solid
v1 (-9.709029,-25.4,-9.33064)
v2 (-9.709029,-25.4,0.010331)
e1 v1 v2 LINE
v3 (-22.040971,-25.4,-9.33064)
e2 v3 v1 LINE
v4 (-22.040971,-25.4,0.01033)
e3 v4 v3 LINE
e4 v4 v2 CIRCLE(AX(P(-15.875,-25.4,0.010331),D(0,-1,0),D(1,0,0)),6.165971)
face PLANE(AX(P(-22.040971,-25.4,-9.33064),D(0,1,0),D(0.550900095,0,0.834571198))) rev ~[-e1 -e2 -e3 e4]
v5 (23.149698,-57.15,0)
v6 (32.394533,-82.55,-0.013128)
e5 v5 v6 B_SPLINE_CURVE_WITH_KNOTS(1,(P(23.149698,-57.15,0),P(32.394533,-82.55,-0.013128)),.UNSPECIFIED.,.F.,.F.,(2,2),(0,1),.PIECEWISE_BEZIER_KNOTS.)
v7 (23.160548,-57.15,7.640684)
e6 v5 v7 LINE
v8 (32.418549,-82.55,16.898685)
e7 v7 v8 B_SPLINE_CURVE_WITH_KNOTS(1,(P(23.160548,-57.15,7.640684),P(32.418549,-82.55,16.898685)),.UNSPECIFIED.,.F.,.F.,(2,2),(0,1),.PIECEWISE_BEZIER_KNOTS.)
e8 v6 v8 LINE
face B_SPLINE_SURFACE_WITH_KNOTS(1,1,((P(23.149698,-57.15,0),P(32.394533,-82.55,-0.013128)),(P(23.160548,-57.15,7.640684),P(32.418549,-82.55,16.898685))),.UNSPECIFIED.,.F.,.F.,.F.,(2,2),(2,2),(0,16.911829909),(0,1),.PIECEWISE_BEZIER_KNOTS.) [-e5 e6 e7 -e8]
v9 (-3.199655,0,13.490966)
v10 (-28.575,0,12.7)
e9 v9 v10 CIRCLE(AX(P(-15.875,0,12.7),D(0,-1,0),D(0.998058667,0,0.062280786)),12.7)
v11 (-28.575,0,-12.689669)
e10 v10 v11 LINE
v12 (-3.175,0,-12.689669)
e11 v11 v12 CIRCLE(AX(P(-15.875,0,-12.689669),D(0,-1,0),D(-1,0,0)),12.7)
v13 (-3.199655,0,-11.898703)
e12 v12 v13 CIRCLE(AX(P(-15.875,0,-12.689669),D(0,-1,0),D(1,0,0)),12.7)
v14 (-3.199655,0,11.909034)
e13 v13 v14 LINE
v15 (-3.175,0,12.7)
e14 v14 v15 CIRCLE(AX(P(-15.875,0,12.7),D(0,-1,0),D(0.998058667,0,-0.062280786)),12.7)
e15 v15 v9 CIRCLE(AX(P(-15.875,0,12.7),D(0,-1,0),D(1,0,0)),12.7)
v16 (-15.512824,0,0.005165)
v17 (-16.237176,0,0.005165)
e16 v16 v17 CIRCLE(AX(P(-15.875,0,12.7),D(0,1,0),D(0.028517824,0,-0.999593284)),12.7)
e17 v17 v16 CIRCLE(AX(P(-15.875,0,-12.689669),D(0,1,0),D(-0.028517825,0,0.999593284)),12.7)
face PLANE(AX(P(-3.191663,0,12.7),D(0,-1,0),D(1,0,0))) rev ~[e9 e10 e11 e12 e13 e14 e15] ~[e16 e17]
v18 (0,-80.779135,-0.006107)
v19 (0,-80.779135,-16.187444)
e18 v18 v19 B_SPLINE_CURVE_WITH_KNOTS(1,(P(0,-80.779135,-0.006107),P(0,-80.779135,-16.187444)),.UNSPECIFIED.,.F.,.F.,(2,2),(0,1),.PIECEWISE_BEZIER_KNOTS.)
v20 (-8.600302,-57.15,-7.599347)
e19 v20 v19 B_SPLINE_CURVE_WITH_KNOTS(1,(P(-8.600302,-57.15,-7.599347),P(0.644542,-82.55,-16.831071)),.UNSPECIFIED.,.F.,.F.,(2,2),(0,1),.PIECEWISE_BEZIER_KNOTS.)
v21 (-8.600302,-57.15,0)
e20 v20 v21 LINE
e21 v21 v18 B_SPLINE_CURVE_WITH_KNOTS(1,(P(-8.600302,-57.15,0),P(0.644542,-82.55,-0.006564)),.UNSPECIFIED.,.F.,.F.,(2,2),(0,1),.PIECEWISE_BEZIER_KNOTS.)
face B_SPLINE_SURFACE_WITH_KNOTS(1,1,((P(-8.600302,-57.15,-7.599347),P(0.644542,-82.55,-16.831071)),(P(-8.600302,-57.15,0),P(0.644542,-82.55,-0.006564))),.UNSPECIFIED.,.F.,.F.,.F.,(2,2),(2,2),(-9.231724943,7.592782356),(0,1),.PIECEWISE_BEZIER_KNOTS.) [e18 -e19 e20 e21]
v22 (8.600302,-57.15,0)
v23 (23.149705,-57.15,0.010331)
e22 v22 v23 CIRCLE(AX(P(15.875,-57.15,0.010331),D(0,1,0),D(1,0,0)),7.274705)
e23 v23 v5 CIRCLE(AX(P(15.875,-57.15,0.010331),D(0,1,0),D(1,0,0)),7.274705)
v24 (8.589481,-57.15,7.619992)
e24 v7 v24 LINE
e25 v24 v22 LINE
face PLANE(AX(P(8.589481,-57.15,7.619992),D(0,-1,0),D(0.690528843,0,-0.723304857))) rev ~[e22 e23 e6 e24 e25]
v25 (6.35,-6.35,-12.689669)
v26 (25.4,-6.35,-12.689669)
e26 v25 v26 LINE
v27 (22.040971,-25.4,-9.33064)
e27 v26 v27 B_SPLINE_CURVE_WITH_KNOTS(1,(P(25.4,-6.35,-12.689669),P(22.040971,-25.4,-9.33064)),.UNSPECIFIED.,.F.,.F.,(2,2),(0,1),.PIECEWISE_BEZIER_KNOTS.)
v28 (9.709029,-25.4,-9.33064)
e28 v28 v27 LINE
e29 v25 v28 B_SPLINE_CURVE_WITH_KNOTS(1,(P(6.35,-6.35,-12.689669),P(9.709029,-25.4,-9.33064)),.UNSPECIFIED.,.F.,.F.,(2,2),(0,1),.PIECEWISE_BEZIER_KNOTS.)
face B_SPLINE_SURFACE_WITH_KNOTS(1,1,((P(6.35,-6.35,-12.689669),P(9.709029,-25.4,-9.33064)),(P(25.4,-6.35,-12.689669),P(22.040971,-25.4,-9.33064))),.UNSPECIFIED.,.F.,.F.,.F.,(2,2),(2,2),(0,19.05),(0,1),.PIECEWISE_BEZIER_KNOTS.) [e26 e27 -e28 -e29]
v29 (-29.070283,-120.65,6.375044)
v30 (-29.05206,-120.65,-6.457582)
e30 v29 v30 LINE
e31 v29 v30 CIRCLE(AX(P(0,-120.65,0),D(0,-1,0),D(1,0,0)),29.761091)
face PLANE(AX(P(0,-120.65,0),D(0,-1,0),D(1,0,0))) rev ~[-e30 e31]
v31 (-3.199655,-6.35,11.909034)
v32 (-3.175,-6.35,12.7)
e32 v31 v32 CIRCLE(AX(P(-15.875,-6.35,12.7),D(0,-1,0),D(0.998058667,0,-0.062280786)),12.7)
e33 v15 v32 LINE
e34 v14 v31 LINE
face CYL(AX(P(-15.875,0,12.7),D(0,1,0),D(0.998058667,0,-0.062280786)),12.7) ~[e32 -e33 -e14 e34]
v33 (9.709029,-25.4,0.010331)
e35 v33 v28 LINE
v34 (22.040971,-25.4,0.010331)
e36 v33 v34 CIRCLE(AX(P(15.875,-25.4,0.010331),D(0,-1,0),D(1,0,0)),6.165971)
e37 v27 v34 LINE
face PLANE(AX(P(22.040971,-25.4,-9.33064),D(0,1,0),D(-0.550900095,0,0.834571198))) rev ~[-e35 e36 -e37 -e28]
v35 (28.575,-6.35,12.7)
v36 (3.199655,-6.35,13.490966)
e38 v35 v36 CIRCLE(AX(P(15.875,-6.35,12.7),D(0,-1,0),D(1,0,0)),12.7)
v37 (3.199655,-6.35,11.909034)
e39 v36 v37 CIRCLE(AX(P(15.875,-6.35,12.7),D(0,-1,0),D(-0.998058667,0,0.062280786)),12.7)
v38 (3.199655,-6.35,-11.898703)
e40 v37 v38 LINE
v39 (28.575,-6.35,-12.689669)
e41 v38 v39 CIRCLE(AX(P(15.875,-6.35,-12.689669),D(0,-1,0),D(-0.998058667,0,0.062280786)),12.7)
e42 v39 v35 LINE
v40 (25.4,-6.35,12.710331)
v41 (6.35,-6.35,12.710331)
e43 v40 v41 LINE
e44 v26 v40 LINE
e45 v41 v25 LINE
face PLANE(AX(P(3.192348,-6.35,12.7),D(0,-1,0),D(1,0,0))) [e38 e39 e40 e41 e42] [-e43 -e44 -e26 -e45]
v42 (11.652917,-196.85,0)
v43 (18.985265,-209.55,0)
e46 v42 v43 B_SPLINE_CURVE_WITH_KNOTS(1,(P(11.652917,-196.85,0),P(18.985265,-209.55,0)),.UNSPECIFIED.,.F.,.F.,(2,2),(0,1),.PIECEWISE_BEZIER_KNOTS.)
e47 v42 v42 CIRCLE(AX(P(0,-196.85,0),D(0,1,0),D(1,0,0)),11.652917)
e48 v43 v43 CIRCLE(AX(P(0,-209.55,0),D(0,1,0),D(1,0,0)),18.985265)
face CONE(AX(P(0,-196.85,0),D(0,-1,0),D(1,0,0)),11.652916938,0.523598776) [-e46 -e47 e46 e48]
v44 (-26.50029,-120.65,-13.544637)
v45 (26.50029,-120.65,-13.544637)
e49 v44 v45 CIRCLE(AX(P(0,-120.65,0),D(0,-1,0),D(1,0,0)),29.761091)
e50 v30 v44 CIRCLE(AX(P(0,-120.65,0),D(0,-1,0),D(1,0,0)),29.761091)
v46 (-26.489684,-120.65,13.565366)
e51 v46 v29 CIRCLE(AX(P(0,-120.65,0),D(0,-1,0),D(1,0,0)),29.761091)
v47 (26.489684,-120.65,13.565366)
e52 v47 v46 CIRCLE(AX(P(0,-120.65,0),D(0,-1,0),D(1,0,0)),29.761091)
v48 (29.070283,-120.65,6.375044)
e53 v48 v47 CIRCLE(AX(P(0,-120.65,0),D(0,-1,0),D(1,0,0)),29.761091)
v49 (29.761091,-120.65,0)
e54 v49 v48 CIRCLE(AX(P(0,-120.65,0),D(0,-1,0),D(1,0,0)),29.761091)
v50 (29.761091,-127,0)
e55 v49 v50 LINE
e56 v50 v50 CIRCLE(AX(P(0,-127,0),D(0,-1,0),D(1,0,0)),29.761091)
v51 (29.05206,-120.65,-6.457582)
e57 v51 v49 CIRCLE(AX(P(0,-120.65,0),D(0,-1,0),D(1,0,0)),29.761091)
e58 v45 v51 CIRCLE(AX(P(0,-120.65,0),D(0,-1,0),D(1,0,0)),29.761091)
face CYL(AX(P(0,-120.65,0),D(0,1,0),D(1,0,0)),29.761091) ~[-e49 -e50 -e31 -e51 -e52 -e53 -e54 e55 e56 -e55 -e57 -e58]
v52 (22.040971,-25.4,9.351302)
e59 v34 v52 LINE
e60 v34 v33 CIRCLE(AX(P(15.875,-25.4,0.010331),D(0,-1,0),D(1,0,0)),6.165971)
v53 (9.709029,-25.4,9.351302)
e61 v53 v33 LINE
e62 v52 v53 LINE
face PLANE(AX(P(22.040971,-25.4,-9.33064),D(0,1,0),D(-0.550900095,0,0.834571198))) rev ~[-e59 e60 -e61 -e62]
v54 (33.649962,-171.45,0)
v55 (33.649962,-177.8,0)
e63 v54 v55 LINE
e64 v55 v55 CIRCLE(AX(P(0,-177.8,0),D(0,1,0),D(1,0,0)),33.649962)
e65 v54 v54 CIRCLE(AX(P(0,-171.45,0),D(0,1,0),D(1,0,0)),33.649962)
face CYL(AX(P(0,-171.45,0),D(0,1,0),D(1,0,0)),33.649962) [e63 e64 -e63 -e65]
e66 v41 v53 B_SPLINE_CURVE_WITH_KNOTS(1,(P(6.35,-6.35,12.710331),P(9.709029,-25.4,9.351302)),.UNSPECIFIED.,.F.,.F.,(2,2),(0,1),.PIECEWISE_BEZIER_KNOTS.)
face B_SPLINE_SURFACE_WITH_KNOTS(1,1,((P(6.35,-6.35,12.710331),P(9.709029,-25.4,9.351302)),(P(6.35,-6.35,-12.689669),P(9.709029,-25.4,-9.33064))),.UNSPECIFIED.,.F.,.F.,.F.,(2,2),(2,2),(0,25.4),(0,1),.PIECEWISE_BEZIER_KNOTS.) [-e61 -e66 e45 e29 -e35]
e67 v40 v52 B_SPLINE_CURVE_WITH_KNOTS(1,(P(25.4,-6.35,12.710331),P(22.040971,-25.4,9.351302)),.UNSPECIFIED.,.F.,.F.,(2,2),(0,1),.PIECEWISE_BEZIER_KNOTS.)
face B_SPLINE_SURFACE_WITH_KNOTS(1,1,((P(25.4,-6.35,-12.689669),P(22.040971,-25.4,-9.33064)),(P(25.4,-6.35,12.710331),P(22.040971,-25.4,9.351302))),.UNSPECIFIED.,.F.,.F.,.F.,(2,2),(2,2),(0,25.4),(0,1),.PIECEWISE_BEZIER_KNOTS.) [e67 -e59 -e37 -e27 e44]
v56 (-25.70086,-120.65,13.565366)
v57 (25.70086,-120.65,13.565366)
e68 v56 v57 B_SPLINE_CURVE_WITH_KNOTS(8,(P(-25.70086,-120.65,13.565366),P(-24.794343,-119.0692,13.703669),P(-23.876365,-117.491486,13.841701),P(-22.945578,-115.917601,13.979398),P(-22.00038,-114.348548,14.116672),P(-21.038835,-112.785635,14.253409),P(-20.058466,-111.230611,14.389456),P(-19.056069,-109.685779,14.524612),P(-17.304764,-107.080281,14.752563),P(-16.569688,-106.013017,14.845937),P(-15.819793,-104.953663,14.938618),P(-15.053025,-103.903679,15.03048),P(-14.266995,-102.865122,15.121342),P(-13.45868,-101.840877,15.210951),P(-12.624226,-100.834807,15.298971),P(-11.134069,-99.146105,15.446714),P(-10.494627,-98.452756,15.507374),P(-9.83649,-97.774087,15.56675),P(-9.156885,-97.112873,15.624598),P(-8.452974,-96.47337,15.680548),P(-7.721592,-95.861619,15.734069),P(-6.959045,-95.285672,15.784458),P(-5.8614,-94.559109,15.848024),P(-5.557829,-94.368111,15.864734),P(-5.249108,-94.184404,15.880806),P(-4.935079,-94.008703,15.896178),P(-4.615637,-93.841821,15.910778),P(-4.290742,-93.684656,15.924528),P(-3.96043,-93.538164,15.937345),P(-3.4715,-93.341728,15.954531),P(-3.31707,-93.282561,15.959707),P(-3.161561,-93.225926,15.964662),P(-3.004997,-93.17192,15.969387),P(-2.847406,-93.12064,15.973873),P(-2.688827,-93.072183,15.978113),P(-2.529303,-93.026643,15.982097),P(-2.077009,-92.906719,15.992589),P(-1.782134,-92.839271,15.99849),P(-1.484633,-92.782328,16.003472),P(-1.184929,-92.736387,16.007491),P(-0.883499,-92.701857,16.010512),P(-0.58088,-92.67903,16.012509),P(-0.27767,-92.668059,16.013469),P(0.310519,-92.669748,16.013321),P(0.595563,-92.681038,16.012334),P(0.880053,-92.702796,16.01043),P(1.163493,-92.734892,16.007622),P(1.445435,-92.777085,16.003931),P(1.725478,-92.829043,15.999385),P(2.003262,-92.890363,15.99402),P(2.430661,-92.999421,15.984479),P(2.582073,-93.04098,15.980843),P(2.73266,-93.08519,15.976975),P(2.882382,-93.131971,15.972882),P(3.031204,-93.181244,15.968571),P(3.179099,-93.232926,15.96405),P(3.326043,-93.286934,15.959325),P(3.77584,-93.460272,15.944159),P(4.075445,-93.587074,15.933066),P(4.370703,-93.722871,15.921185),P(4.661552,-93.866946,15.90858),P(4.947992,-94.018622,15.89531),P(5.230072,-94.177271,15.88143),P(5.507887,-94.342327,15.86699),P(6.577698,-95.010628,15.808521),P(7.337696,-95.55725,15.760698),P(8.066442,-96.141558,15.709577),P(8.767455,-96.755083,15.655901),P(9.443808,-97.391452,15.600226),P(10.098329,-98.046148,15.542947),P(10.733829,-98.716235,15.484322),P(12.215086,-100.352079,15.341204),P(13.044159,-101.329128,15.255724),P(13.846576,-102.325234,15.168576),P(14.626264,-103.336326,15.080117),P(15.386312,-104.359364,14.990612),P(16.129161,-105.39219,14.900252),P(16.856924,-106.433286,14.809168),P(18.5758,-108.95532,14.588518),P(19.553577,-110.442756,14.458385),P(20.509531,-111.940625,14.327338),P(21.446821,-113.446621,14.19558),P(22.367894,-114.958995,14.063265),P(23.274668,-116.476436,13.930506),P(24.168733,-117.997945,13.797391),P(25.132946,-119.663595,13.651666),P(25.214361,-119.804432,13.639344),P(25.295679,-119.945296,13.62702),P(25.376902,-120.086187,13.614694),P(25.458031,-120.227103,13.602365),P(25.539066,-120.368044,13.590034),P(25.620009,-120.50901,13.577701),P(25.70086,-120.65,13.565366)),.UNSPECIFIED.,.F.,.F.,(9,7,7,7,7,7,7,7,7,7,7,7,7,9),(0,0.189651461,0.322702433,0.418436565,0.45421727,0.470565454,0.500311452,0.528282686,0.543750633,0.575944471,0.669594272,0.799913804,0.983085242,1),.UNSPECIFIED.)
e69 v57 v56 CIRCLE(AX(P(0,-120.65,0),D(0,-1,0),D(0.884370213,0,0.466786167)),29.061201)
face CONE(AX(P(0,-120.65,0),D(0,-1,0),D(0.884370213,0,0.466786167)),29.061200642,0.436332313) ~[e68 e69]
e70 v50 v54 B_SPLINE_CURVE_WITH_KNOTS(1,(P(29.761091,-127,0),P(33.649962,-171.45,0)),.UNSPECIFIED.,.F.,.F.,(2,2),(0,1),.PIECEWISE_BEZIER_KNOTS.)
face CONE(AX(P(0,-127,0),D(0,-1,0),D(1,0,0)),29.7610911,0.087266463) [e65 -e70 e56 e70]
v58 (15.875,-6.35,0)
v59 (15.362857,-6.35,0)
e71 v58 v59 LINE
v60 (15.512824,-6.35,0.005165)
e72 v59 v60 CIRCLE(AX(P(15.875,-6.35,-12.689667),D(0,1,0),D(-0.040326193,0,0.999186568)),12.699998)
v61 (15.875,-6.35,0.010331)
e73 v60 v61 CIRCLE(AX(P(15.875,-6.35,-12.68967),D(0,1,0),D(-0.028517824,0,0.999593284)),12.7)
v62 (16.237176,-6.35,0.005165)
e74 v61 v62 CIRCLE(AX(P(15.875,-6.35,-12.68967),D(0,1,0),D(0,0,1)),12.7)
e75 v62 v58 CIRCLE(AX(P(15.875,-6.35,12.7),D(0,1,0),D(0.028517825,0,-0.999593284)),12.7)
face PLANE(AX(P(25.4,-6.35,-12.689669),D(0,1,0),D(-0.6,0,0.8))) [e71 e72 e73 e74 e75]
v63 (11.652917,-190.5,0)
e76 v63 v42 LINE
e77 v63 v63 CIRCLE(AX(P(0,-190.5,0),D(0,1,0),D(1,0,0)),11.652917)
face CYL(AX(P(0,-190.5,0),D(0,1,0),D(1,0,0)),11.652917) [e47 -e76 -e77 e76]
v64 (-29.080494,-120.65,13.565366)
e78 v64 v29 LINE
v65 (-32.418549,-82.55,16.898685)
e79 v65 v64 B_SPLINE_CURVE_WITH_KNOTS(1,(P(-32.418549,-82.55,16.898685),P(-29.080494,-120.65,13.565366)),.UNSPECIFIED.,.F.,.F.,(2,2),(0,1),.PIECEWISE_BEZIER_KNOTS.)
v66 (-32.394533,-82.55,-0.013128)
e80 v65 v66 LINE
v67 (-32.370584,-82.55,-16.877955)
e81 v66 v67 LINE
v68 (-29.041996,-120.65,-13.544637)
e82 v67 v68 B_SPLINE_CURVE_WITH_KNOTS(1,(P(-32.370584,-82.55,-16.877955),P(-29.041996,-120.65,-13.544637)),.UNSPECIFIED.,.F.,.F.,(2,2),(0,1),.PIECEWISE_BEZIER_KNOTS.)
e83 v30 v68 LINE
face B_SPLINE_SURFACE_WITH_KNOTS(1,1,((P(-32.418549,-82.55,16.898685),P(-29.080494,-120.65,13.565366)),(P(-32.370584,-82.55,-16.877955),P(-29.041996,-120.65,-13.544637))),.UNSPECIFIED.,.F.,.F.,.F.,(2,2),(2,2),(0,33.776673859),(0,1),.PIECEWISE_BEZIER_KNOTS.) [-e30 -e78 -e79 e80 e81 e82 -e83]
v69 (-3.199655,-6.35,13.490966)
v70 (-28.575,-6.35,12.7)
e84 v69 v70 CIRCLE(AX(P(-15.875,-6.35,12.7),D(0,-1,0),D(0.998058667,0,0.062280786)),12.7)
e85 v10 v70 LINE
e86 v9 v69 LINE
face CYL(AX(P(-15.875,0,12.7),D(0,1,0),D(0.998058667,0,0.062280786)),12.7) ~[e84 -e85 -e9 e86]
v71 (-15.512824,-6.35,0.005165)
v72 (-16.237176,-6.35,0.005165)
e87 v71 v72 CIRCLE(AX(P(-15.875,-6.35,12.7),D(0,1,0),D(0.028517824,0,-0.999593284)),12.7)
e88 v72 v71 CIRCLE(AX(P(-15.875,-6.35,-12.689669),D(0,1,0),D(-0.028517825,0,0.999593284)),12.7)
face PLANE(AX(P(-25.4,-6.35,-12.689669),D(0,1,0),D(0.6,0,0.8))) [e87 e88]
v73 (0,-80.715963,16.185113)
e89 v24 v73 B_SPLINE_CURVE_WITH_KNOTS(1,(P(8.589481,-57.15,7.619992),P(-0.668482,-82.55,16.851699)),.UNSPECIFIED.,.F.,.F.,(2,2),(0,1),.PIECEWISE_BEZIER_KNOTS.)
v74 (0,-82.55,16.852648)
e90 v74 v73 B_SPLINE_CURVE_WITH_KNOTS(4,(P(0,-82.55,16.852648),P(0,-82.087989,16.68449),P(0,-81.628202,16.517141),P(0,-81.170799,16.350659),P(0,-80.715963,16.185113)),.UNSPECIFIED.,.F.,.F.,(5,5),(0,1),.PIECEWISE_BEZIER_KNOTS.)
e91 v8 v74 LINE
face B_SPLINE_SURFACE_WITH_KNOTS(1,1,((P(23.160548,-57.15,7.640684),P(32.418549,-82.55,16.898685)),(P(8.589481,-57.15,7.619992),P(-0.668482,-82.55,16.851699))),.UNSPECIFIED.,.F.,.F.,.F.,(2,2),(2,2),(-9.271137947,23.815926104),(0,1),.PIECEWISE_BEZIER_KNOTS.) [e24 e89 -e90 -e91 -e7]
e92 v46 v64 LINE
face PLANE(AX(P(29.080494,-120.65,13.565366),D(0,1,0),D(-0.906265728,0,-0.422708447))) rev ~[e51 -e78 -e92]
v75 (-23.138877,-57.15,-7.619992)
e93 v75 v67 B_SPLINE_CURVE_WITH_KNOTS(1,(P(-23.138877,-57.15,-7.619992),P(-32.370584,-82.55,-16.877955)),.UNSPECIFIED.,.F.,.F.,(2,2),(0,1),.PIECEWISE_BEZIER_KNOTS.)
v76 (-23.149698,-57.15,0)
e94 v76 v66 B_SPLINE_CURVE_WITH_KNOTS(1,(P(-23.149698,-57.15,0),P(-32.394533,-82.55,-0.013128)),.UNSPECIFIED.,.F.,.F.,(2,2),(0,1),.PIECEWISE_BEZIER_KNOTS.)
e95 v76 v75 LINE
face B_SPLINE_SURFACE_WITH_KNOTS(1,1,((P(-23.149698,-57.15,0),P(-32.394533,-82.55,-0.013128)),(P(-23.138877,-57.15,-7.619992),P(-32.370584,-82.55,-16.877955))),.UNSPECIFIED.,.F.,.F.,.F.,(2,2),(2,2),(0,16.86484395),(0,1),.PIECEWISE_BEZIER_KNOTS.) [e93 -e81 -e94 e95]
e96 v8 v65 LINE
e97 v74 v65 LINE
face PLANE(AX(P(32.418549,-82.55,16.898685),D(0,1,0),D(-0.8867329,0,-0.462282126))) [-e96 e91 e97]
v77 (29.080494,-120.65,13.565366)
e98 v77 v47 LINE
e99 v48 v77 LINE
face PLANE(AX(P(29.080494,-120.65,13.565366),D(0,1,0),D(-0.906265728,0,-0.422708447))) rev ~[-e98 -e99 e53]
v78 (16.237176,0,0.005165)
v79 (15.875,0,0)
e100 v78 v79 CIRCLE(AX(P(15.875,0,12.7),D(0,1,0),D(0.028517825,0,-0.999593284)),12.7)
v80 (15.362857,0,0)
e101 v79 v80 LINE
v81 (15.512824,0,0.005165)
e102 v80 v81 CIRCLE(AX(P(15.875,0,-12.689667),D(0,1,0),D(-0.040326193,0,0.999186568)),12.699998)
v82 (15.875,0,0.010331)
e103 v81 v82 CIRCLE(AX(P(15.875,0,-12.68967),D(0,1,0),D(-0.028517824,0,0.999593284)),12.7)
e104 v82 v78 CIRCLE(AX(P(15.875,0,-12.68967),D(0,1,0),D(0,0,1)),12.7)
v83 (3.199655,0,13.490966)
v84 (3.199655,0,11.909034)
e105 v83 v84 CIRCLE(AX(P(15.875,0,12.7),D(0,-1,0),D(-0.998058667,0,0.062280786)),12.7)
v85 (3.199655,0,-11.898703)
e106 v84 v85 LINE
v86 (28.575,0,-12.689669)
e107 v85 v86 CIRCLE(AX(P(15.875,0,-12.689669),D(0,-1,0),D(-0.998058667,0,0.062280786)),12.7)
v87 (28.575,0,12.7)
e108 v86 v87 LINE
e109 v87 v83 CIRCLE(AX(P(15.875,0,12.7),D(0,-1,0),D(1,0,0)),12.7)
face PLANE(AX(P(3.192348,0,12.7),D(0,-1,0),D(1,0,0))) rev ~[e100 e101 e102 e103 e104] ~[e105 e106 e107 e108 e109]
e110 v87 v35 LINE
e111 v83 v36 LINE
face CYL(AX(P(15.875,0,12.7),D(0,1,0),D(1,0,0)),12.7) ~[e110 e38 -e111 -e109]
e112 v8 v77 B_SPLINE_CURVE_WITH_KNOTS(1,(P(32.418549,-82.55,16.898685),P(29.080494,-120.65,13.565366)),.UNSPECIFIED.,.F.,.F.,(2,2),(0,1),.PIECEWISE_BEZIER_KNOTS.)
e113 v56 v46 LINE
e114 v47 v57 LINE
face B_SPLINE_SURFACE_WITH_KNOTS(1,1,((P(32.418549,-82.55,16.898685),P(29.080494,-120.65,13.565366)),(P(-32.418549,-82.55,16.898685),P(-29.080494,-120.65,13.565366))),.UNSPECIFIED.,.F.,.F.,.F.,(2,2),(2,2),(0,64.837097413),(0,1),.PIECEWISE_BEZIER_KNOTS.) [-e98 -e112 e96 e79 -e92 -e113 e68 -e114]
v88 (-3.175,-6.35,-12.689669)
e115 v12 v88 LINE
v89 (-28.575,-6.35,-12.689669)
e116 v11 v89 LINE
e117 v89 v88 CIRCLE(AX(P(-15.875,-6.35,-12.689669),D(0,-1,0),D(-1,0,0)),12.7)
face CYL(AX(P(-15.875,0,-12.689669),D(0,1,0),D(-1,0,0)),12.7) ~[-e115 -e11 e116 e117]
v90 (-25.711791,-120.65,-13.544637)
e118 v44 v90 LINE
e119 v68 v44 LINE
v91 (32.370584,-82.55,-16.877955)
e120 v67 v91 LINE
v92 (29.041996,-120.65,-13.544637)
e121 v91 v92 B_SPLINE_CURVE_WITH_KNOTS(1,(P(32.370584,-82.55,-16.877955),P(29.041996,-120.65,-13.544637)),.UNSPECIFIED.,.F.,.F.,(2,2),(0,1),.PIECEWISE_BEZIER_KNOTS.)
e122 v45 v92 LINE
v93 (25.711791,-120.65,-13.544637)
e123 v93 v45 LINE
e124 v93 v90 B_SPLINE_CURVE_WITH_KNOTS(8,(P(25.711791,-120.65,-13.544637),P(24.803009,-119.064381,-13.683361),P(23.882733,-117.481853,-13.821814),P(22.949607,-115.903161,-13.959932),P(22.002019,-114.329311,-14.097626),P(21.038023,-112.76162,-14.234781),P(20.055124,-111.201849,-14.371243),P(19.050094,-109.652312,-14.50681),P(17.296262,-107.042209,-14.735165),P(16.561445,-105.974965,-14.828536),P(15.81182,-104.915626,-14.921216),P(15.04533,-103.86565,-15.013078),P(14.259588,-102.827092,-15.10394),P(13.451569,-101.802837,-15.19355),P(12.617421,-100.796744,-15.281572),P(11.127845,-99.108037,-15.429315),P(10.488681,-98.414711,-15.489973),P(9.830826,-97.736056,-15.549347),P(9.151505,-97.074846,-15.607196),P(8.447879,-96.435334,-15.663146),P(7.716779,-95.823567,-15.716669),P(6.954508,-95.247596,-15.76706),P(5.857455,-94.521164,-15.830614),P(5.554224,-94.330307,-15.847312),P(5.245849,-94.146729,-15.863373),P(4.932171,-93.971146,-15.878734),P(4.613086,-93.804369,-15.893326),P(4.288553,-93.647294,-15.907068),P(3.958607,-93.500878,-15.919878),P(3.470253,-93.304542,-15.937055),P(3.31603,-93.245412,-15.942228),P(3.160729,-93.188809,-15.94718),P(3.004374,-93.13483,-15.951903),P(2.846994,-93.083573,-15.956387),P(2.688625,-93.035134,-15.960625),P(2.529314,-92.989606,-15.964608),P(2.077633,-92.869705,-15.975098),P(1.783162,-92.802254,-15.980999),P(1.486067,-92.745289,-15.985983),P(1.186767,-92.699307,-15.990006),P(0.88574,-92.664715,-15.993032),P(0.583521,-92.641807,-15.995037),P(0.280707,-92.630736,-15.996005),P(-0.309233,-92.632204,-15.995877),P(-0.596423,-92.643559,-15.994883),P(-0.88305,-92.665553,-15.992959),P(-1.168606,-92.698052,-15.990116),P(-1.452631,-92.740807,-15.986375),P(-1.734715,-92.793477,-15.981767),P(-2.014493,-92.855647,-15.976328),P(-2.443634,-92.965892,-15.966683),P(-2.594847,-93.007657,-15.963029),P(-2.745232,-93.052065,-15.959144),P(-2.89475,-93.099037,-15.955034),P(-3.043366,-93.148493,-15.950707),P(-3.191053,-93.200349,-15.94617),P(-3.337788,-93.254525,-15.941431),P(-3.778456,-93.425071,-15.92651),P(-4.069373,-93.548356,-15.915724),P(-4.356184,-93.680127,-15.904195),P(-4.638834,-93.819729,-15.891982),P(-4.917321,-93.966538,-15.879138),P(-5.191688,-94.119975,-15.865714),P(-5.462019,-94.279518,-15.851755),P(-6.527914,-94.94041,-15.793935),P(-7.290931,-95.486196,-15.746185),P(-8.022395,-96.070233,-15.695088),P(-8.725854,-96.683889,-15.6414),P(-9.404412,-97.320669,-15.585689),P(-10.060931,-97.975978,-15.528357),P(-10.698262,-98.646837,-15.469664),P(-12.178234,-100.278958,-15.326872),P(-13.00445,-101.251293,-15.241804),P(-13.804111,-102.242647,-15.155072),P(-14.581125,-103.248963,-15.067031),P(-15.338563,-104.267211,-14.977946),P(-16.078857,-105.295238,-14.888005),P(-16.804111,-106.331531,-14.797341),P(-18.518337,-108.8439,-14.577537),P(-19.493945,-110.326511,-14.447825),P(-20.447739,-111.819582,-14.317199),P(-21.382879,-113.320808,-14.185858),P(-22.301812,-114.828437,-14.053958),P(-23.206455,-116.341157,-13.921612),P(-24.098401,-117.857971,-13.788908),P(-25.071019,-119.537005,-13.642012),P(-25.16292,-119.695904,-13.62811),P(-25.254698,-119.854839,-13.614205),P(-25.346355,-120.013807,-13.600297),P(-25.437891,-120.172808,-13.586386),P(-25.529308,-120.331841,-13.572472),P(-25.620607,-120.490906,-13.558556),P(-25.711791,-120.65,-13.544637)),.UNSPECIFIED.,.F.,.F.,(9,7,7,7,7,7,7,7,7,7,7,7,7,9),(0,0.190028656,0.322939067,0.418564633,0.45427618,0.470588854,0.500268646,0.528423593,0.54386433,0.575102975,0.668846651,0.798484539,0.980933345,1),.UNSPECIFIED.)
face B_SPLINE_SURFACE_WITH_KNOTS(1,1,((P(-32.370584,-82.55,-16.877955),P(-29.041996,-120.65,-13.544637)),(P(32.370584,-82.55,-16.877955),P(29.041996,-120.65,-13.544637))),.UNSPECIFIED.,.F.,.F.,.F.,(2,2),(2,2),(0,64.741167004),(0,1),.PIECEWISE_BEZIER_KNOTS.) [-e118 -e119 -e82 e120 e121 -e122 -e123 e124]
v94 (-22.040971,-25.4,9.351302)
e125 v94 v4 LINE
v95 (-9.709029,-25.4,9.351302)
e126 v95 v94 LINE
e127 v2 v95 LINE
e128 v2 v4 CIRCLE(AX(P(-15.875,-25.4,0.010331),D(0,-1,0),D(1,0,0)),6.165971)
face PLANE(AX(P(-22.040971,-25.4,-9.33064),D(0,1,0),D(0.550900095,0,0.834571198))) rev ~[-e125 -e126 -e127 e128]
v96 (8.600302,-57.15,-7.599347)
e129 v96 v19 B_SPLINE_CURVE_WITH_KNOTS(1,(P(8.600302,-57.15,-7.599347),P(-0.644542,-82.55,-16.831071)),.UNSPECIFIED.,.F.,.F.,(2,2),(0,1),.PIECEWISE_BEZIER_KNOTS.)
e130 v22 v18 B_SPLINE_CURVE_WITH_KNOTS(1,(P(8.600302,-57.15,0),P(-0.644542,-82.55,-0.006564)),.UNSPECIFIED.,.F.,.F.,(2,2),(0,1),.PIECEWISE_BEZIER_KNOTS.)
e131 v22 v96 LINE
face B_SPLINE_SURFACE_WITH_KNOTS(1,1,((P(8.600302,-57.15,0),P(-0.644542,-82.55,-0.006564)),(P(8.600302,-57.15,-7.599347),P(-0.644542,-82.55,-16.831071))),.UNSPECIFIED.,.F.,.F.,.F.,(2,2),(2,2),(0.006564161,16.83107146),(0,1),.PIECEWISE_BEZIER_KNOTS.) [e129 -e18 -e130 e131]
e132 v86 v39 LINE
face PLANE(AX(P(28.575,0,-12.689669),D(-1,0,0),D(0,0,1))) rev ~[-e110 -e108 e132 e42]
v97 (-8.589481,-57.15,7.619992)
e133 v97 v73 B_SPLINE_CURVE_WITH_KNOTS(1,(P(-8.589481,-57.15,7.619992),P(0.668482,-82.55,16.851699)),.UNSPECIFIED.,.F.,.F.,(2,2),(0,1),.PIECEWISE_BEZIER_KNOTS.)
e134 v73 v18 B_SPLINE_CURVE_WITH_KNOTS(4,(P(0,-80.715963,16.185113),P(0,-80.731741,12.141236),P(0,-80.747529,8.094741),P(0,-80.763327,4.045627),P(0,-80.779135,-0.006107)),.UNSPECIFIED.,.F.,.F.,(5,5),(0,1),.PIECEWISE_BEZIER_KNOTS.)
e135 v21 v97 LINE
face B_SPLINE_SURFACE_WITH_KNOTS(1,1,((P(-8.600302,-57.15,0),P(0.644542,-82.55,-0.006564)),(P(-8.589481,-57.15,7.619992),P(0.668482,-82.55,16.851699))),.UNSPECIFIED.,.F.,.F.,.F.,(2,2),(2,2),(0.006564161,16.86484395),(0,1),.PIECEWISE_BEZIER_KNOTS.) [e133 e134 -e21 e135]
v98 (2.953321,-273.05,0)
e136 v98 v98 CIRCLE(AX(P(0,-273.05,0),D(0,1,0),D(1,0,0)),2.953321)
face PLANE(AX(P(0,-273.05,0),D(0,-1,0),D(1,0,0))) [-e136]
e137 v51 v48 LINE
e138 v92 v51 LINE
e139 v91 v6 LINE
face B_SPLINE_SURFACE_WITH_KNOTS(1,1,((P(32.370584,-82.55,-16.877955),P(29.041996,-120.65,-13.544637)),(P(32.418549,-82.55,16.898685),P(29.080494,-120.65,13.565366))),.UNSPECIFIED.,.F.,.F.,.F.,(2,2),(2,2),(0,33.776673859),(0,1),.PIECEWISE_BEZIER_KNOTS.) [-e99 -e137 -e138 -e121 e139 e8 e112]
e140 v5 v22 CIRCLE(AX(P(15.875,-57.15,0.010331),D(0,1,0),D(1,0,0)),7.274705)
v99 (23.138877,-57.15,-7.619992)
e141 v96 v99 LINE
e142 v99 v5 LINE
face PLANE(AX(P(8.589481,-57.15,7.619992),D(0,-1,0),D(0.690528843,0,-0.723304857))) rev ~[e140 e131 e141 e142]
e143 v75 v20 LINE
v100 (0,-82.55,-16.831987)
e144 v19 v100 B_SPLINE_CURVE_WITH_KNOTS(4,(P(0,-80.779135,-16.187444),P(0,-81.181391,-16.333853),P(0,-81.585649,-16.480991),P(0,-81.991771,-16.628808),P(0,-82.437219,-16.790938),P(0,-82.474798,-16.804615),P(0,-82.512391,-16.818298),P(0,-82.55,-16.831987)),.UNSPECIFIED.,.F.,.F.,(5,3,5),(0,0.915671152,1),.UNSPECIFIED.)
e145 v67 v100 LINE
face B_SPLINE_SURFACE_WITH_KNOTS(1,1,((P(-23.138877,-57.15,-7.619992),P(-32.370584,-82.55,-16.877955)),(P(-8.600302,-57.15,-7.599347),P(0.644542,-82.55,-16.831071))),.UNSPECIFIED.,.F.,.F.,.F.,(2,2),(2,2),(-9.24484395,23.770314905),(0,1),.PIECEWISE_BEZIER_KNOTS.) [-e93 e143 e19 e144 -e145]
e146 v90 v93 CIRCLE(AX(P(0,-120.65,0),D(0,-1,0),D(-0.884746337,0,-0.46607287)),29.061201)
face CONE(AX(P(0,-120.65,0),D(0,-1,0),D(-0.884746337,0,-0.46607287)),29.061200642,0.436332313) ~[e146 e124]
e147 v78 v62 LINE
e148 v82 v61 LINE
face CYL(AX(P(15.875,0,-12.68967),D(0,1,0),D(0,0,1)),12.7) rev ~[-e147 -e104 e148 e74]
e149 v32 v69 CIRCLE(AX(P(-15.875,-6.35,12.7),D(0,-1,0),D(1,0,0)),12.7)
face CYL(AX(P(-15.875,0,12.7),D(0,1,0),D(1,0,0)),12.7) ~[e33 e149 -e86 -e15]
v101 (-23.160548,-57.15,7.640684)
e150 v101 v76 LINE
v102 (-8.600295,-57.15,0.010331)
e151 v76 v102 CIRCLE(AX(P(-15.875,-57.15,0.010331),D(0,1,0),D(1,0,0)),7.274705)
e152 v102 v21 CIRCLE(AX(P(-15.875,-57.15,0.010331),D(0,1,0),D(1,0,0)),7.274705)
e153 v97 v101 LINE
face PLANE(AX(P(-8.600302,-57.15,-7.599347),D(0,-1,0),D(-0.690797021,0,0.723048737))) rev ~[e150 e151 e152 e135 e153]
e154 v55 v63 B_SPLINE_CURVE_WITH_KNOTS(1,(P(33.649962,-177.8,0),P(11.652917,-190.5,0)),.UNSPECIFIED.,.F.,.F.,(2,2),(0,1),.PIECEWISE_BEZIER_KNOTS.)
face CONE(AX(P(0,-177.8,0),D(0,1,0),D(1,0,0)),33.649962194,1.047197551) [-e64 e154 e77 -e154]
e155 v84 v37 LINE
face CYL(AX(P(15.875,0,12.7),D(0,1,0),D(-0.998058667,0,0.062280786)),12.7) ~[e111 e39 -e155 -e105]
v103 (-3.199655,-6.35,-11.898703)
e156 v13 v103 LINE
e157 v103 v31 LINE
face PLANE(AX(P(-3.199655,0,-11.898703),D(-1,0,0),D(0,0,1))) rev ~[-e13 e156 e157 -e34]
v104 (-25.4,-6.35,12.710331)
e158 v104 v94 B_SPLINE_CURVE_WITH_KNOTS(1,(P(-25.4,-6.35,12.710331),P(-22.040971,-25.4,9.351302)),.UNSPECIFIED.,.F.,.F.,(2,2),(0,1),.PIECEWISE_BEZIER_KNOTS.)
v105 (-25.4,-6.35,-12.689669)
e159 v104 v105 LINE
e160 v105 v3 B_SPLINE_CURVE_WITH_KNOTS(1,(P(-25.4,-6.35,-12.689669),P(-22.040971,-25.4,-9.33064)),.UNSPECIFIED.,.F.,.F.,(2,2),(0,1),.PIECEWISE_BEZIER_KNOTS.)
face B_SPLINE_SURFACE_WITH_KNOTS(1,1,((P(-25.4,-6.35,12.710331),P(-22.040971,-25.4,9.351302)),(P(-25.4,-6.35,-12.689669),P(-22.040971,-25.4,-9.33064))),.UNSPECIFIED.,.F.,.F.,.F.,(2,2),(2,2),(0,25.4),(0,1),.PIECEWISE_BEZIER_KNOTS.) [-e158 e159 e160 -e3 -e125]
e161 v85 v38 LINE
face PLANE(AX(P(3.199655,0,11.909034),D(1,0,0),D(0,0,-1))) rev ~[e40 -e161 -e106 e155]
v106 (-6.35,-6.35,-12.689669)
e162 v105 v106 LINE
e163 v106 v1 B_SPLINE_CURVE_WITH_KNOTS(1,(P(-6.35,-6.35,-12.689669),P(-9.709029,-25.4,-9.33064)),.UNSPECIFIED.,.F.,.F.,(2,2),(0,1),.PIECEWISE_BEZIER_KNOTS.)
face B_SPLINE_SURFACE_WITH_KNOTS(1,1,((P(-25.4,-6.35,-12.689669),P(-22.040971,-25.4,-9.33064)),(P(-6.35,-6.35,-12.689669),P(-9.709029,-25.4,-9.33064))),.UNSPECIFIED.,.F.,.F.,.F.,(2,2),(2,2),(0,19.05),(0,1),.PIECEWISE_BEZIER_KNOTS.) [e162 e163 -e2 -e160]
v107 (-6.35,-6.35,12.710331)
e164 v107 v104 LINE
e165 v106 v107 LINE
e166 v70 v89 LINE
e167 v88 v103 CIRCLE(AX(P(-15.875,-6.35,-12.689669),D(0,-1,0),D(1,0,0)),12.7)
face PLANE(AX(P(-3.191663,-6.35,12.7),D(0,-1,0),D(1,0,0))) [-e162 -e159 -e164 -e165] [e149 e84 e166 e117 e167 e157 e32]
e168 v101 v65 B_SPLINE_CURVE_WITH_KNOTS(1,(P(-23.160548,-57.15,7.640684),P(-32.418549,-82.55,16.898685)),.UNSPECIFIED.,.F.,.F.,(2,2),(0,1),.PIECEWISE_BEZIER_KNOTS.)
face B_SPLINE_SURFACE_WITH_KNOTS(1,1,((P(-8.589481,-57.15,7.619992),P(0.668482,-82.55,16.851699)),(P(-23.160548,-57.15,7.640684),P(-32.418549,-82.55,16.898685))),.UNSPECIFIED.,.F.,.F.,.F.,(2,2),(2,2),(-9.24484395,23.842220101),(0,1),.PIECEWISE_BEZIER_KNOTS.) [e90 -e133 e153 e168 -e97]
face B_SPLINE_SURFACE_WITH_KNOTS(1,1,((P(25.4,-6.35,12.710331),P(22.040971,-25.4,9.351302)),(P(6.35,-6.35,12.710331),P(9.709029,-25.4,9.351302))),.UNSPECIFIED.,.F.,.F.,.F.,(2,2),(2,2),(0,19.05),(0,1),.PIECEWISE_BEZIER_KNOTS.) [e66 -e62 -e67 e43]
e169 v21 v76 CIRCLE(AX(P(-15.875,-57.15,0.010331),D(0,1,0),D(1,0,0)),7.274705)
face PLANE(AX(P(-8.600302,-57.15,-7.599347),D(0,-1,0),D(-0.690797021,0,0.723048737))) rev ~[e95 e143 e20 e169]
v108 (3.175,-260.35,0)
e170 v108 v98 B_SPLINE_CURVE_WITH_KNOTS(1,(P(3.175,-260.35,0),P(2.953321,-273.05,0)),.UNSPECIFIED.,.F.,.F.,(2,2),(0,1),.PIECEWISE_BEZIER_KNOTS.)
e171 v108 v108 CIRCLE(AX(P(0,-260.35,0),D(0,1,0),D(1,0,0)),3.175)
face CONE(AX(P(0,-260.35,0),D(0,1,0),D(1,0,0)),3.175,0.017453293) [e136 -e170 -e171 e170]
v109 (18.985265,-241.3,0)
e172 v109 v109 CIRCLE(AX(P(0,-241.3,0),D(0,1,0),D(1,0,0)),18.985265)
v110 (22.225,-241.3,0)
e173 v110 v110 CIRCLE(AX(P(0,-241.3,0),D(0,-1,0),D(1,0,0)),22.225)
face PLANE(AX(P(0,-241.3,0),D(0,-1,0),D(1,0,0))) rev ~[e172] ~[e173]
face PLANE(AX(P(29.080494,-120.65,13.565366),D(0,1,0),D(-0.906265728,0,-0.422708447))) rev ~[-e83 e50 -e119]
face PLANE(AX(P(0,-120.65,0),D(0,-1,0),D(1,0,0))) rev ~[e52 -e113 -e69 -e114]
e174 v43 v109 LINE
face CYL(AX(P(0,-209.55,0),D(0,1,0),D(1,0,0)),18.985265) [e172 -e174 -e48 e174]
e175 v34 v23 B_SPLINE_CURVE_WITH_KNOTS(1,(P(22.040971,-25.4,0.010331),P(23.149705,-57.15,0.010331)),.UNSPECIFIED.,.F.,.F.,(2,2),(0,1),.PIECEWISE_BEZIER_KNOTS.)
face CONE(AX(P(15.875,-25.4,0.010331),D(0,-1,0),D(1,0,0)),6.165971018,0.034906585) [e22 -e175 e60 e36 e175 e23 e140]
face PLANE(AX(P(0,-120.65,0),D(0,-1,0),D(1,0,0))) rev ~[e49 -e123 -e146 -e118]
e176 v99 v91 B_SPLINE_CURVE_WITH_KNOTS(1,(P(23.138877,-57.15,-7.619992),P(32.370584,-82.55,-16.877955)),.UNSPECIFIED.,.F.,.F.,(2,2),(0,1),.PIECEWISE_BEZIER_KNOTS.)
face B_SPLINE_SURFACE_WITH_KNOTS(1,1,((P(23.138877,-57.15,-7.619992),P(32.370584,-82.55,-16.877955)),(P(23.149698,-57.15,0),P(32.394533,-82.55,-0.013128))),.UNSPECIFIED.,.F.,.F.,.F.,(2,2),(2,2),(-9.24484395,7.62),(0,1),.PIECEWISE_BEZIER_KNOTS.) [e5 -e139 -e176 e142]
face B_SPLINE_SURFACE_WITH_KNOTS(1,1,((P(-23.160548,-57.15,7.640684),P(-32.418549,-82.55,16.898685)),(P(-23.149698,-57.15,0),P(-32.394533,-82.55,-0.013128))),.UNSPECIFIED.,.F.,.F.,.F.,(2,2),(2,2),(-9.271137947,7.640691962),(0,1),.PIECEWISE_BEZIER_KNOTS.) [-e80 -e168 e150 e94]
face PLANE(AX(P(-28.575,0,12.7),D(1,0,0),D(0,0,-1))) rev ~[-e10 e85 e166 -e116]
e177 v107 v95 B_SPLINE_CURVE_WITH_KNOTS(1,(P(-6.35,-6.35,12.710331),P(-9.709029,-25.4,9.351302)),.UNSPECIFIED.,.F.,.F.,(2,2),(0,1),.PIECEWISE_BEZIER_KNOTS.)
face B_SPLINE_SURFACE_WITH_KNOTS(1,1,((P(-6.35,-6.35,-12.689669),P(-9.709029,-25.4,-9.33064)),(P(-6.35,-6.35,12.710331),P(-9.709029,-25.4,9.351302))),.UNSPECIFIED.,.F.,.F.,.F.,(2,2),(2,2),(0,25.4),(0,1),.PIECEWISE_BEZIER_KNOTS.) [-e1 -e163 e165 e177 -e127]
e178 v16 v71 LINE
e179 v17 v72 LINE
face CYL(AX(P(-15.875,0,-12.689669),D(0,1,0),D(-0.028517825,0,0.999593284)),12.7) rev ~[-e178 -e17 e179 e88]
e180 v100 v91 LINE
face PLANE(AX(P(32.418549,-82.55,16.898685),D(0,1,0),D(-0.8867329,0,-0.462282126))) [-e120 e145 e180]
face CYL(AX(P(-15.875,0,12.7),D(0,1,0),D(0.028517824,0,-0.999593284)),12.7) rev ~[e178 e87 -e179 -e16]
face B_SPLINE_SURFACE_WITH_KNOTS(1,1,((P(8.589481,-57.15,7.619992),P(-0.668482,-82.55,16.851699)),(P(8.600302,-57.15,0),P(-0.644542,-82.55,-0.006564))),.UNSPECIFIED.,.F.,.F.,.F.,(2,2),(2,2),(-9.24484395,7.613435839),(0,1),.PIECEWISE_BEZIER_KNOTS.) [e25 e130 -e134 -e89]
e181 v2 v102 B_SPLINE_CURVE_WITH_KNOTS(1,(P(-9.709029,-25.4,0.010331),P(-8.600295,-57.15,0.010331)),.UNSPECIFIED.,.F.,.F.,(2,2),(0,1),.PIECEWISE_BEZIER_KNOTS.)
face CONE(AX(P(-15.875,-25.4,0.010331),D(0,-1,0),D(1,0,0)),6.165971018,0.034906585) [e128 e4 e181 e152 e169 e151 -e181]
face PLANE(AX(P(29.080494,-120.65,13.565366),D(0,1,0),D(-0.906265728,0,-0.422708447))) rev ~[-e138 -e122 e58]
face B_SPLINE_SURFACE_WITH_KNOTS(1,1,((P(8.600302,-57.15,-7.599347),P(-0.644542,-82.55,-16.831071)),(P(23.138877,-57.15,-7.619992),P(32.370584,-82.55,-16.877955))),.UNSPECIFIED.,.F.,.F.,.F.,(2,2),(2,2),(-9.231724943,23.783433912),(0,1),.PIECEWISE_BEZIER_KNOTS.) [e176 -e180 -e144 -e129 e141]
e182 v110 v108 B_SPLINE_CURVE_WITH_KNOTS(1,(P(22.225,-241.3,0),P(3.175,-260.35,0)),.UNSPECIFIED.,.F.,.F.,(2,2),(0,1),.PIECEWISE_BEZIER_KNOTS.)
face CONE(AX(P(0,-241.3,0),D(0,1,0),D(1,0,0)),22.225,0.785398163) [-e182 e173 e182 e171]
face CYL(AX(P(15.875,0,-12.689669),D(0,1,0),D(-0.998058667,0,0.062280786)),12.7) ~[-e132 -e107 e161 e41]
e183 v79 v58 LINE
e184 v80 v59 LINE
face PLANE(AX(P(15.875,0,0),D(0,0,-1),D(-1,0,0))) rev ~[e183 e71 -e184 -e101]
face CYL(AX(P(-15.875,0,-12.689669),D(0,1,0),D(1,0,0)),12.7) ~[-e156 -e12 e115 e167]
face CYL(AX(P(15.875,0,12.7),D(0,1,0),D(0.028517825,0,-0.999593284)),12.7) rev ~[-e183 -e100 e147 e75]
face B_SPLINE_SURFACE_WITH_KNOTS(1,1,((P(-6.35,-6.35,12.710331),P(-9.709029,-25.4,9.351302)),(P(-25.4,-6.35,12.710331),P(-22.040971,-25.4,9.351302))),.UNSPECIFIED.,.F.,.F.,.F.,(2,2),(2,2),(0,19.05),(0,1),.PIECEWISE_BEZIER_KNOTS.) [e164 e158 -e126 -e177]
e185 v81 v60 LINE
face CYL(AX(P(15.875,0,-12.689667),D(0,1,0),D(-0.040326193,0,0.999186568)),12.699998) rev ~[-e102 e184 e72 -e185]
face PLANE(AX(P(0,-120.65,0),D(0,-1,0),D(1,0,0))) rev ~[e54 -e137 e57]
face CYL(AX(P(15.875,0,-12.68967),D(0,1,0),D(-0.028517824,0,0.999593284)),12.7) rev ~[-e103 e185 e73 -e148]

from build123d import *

# Parameters (mm, degrees)
F1_DEPTH   = 6.35
F3_DEPTH   = 19.05
F3_TAPER   = 10
F4_R       = 6.1659710175
F5_DEPTH   = 31.75
F5_TAPER   = -2
F7_DEPTH   = 25.4
F7_TAPER   = -20
F9_DEPTH   = 38.1
F9_TAPER   = 5
F11_DEPTH  = 38.1
F11_TAPER  = 25
F12_R      = 29.7610911
F13_DEPTH  = 6.35
F13_FACE_R = 29.7610911
F14_DEPTH  = 44.45
F14_TAPER  = -5
F15_DEPTH  = 6.35
F15_FACE_R = 33.6499621937
F16_DEPTH  = 12.7
F16_TAPER  = 60
F17_DEPTH  = 6.35
F17_FACE_R = 11.6529169376
F18_DEPTH  = 12.7
F18_TAPER  = -30
F19_DEPTH  = 31.75
F20_R      = 22.225
F21_DEPTH  = 19.05
F21_TAPER  = 45
F21_FACE_R = 3.175
F22_DEPTH  = 12.7
F22_TAPER  = 1


with BuildPart() as f1:
    # F0 (on Front) → F1 (new body)
    with BuildSketch(Plane.XZ):
        with BuildLine():
            ThreePointArc((3.199654923, 13.4909659788), (3.175, 12.7), (3.199654923, 11.9090340212))
            Line((3.199654923, 11.9090340212), (3.199654923, 13.4909659788))
        make_face()
        with BuildLine():
            Line((15.362857355, 0), (3.199654923, 0))
            Line((3.199654923, 0), (3.199654923, -11.8987034381))
            ThreePointArc((3.199654923, -11.8987034381), (6.9939953282, -3.6112468657), (15.362857355, 0))
        make_face()
        with BuildLine():
            ThreePointArc((16.2371763723, 0.0051652915), (24.9824046777, -3.8383881517), (28.575, -12.6896694169))
            Line((28.575, -12.6896694169), (28.575, 12.7))
            ThreePointArc((28.575, 12.7), (24.9824046777, 3.8487187348), (16.2371763723, 0.0051652915))
        make_face()
        with BuildLine():
            Line((3.199654923, 11.9090340212), (3.199654923, 0))
            Line((3.199654923, 0), (15.362857355, 0))
            ThreePointArc((15.362857355, 0), (15.4378328626, 0.0028041361), (15.5128236277, 0.0051652915))
            ThreePointArc((15.5128236277, 0.0051652915), (7.0477827676, 3.5692696934), (3.199654923, 11.9090340212))
        make_face()
        with BuildLine():
            Line((15.875, 0), (15.362857355, 0))
            ThreePointArc((15.362857355, 0), (6.9939953282, -3.6112468657), (3.199654923, -11.8987034381))
            ThreePointArc((3.199654923, -11.8987034381), (15.4793249297, -25.3835041897), (28.575, -12.6896694169))
            ThreePointArc((28.575, -12.6896694169), (24.9824046777, -3.8383881517), (16.2371763723, 0.0051652915))
            ThreePointArc((16.2371763723, 0.0051652915), (16.0561066018, 0.0012913885), (15.875, 0))
        make_face()
        with BuildLine():
            Line((3.199654923, 13.4909659788), (3.199654923, 11.9090340212))
            ThreePointArc((3.199654923, 11.9090340212), (7.0477827676, 3.5692696934), (15.5128236277, 0.0051652915))
            ThreePointArc((15.5128236277, 0.0051652915), (15.6938933982, 0.0090391945), (15.875, 0.0103305831))
            ThreePointArc((15.875, 0.0103305831), (16.0561066018, 0.0090391945), (16.2371763723, 0.0051652915))
            ThreePointArc((16.2371763723, 0.0051652915), (24.9824046777, 3.8487187348), (28.575, 12.7))
            ThreePointArc((28.575, 12.7), (16.2706750703, 25.3938347728), (3.199654923, 13.4909659788))
        make_face()
    extrude(amount=F1_DEPTH)

    # F2 (on face) → F3, piece 2 (join)
    with BuildSketch(Plane.XZ.offset(6.35)):
        Polygon((15.875, -12.6896694169), (25.4, -12.6896694169), (25.4, 12.7103305831), (6.35, 12.7103305831), (6.35, -12.6896694169), align=None)
    extrude(amount=F3_DEPTH, taper=F3_TAPER)

    # F4 (on face) → F5, piece 2 (join)
    with BuildSketch(Plane.XZ.offset(25.4)):
        with Locations((15.875, 0.0103305831)):
            Circle(F4_R)
    extrude(amount=F5_DEPTH, taper=F5_TAPER)



with BuildPart() as f1b:
    # F0 (on Front) → F1, piece 2 (new body)
    with BuildSketch(Plane.XZ):
        with BuildLine():
            Line((-3.199654923, 13.4909659788), (-3.199654923, 11.9090340212))
            ThreePointArc((-3.199654923, 11.9090340212), (-3.1811652272, 12.3043249297), (-3.175, 12.7))
            ThreePointArc((-3.175, 12.7), (-3.1811652272, 13.0956750703), (-3.199654923, 13.4909659788))
        make_face()
        with BuildLine():
            ThreePointArc((-15.5128236277, 0.0051652915), (-7.0477827676, -3.5589391103), (-3.199654923, -11.8987034381))
            Line((-3.199654923, -11.8987034381), (-3.199654923, 11.9090340212))
            ThreePointArc((-3.199654923, 11.9090340212), (-7.0477827676, 3.5692696934), (-15.5128236277, 0.0051652915))
        make_face()
        with BuildLine():
            ThreePointArc((-16.2371763723, 0.0051652915), (-15.875, 0.0103305831), (-15.5128236277, 0.0051652915))
            ThreePointArc((-15.5128236277, 0.0051652915), (-7.0477827676, 3.5692696934), (-3.199654923, 11.9090340212))
            Line((-3.199654923, 11.9090340212), (-3.199654923, 13.4909659788))
            ThreePointArc((-3.199654923, 13.4909659788), (-16.2706750703, 25.3938347728), (-28.575, 12.7))
            ThreePointArc((-28.575, 12.7), (-24.9824046777, 3.8487187348), (-16.2371763723, 0.0051652915))
        make_face()
        with BuildLine():
            ThreePointArc((-28.575, -12.6896694169), (-15.875, -25.3896694169), (-3.175, -12.6896694169))
            ThreePointArc((-3.175, -12.6896694169), (-3.1811652272, -12.2939943467), (-3.199654923, -11.8987034381))
            ThreePointArc((-3.199654923, -11.8987034381), (-7.0477827676, -3.5589391103), (-15.5128236277, 0.0051652915))
            ThreePointArc((-15.5128236277, 0.0051652915), (-15.875, 0), (-16.2371763723, 0.0051652915))
            ThreePointArc((-16.2371763723, 0.0051652915), (-24.9824046777, -3.8383881517), (-28.575, -12.6896694169))
        make_face()
        with BuildLine():
            Line((-28.575, 12.7), (-28.575, -12.6896694169))
            ThreePointArc((-28.575, -12.6896694169), (-24.9824046777, -3.8383881517), (-16.2371763723, 0.0051652915))
            ThreePointArc((-16.2371763723, 0.0051652915), (-24.9824046777, 3.8487187348), (-28.575, 12.7))
        make_face()
    extrude(amount=F1_DEPTH)

    # F2 (on face) → F3 (join)
    with BuildSketch(Plane.XZ.offset(6.35)):
        Polygon((-25.4, -12.6896694169), (-15.875, -12.6896694169), (-6.35, -12.6896694169), (-6.35, 12.7103305831), (-25.4, 12.7103305831), align=None)
    extrude(amount=F3_DEPTH, taper=F3_TAPER)

    # F4 (on face) → F5 (join)
    with BuildSketch(Plane.XZ.offset(25.4)):
        with Locations((-15.875, 0.0103305831)):
            Circle(F4_R)
    extrude(amount=F5_DEPTH, taper=F5_TAPER)


with BuildPart() as f1_1:
    add(f1.part)

    add(f1b.part)  # F7 merges F1b
    # F6 (on face) → F7 (join)
    with BuildSketch(Plane.XZ.offset(57.15)):
        Polygon((-8.6003018862, -7.5993465171), (-8.6003018862, 0), (-8.5894809611, 7.6199923168), (-23.1605484229, 7.6406842576), (-23.1496981138, 0), (-23.1388771887, -7.6199923168), align=None)
        Polygon((8.5894809611, 7.6199923168), (8.6003018862, 0), (8.6003018862, -7.5993465171), (23.1388771887, -7.6199923168), (23.1496981138, 0), (23.1605484229, 7.6406842576), align=None)
    extrude(amount=F7_DEPTH, taper=F7_TAPER)

    # F8 (on face) → F9 (join)
    with BuildSketch(Plane.XZ.offset(82.55)):
        Polygon((32.4185487065, 16.8986845412), (-32.4185487065, 16.8986845412), (-32.370583502, -16.8779552611), (32.370583502, -16.8779552611), align=None)
    extrude(amount=F9_DEPTH, taper=F9_TAPER)

    # F10 (on face) → F11 (join)
    with BuildSketch(Plane.XZ.offset(120.65)):
        with BuildLine():
            ThreePointArc((25.711790805, -13.5446371807), (28.2114240531, -6.9763124682), (29.061200642, 0))
            ThreePointArc((29.061200642, 0), (28.2086089518, 6.9876865813), (25.7008602101, 13.5653664608))
            Line((25.7008602101, 13.5653664608), (-25.7008602101, 13.5653664608))
            ThreePointArc((-25.7008602101, 13.5653664608), (-28.2135633586, 6.9676556579), (-29.0611713394, -0.0412690571))
            ThreePointArc((-29.0611713394, -0.0412690571), (-28.2064635002, -6.9963418704), (-25.711790805, -13.5446371807))
            Line((-25.711790805, -13.5446371807), (25.711790805, -13.5446371807))
        make_face()
        with BuildLine():
            ThreePointArc((-25.711790805, -13.5446371807), (0, -29.061200642), (25.711790805, -13.5446371807))
            Line((25.711790805, -13.5446371807), (-25.711790805, -13.5446371807))
        make_face()
        with BuildLine():
            Line((-25.7008602101, 13.5653664608), (25.7008602101, 13.5653664608))
            ThreePointArc((25.7008602101, 13.5653664608), (0, 29.061200642), (-25.7008602101, 13.5653664608))
        make_face()
    extrude(amount=-F11_DEPTH, taper=F11_TAPER)

    # F12 (on face) → F13 (join)
    with BuildSketch(Plane.XZ.offset(120.65)):
        Circle(F12_R)
    extrude(amount=F13_DEPTH)

    # F13_face (on face) → F14 (join)
    with BuildSketch(Plane.XZ.offset(127)):
        Circle(F13_FACE_R)
    extrude(amount=F14_DEPTH, taper=F14_TAPER)

    # F15 (add): a face of the model
    f15_faces = [f1_1.faces().sort_by_distance(p)[0] for p in [
        (0, -171.45, 0),
    ]]
    extrude(f15_faces, amount=F15_DEPTH)

    # F15_face (on face) → F16 (join)
    with BuildSketch(Plane.XZ.offset(177.8)):
        Circle(F15_FACE_R)
    extrude(amount=F16_DEPTH, taper=F16_TAPER)

    # F17 (add): a face of the model
    f17_faces = [f1_1.faces().sort_by_distance(p)[0] for p in [
        (0, -190.5, 0),
    ]]
    extrude(f17_faces, amount=F17_DEPTH)

    # F17_face (on face) → F18 (join)
    with BuildSketch(Plane.XZ.offset(196.85)):
        Circle(F17_FACE_R)
    extrude(amount=F18_DEPTH, taper=F18_TAPER)

    # F19 (add): a face of the model
    f19_faces = [f1_1.faces().sort_by_distance(p)[0] for p in [
        (0, -209.55, 0),
    ]]
    extrude(f19_faces, amount=F19_DEPTH)

    # F20 (on face) → F21 (join)
    with BuildSketch(Plane.XZ.offset(241.3)):
        Circle(F20_R)
    extrude(amount=F21_DEPTH, taper=F21_TAPER)

    # F21_face (on face) → F22 (join)
    with BuildSketch(Plane.XZ.offset(260.35)):
        Circle(F21_FACE_R)
    extrude(amount=F22_DEPTH, taper=F22_TAPER)


solid = f1_1.part
